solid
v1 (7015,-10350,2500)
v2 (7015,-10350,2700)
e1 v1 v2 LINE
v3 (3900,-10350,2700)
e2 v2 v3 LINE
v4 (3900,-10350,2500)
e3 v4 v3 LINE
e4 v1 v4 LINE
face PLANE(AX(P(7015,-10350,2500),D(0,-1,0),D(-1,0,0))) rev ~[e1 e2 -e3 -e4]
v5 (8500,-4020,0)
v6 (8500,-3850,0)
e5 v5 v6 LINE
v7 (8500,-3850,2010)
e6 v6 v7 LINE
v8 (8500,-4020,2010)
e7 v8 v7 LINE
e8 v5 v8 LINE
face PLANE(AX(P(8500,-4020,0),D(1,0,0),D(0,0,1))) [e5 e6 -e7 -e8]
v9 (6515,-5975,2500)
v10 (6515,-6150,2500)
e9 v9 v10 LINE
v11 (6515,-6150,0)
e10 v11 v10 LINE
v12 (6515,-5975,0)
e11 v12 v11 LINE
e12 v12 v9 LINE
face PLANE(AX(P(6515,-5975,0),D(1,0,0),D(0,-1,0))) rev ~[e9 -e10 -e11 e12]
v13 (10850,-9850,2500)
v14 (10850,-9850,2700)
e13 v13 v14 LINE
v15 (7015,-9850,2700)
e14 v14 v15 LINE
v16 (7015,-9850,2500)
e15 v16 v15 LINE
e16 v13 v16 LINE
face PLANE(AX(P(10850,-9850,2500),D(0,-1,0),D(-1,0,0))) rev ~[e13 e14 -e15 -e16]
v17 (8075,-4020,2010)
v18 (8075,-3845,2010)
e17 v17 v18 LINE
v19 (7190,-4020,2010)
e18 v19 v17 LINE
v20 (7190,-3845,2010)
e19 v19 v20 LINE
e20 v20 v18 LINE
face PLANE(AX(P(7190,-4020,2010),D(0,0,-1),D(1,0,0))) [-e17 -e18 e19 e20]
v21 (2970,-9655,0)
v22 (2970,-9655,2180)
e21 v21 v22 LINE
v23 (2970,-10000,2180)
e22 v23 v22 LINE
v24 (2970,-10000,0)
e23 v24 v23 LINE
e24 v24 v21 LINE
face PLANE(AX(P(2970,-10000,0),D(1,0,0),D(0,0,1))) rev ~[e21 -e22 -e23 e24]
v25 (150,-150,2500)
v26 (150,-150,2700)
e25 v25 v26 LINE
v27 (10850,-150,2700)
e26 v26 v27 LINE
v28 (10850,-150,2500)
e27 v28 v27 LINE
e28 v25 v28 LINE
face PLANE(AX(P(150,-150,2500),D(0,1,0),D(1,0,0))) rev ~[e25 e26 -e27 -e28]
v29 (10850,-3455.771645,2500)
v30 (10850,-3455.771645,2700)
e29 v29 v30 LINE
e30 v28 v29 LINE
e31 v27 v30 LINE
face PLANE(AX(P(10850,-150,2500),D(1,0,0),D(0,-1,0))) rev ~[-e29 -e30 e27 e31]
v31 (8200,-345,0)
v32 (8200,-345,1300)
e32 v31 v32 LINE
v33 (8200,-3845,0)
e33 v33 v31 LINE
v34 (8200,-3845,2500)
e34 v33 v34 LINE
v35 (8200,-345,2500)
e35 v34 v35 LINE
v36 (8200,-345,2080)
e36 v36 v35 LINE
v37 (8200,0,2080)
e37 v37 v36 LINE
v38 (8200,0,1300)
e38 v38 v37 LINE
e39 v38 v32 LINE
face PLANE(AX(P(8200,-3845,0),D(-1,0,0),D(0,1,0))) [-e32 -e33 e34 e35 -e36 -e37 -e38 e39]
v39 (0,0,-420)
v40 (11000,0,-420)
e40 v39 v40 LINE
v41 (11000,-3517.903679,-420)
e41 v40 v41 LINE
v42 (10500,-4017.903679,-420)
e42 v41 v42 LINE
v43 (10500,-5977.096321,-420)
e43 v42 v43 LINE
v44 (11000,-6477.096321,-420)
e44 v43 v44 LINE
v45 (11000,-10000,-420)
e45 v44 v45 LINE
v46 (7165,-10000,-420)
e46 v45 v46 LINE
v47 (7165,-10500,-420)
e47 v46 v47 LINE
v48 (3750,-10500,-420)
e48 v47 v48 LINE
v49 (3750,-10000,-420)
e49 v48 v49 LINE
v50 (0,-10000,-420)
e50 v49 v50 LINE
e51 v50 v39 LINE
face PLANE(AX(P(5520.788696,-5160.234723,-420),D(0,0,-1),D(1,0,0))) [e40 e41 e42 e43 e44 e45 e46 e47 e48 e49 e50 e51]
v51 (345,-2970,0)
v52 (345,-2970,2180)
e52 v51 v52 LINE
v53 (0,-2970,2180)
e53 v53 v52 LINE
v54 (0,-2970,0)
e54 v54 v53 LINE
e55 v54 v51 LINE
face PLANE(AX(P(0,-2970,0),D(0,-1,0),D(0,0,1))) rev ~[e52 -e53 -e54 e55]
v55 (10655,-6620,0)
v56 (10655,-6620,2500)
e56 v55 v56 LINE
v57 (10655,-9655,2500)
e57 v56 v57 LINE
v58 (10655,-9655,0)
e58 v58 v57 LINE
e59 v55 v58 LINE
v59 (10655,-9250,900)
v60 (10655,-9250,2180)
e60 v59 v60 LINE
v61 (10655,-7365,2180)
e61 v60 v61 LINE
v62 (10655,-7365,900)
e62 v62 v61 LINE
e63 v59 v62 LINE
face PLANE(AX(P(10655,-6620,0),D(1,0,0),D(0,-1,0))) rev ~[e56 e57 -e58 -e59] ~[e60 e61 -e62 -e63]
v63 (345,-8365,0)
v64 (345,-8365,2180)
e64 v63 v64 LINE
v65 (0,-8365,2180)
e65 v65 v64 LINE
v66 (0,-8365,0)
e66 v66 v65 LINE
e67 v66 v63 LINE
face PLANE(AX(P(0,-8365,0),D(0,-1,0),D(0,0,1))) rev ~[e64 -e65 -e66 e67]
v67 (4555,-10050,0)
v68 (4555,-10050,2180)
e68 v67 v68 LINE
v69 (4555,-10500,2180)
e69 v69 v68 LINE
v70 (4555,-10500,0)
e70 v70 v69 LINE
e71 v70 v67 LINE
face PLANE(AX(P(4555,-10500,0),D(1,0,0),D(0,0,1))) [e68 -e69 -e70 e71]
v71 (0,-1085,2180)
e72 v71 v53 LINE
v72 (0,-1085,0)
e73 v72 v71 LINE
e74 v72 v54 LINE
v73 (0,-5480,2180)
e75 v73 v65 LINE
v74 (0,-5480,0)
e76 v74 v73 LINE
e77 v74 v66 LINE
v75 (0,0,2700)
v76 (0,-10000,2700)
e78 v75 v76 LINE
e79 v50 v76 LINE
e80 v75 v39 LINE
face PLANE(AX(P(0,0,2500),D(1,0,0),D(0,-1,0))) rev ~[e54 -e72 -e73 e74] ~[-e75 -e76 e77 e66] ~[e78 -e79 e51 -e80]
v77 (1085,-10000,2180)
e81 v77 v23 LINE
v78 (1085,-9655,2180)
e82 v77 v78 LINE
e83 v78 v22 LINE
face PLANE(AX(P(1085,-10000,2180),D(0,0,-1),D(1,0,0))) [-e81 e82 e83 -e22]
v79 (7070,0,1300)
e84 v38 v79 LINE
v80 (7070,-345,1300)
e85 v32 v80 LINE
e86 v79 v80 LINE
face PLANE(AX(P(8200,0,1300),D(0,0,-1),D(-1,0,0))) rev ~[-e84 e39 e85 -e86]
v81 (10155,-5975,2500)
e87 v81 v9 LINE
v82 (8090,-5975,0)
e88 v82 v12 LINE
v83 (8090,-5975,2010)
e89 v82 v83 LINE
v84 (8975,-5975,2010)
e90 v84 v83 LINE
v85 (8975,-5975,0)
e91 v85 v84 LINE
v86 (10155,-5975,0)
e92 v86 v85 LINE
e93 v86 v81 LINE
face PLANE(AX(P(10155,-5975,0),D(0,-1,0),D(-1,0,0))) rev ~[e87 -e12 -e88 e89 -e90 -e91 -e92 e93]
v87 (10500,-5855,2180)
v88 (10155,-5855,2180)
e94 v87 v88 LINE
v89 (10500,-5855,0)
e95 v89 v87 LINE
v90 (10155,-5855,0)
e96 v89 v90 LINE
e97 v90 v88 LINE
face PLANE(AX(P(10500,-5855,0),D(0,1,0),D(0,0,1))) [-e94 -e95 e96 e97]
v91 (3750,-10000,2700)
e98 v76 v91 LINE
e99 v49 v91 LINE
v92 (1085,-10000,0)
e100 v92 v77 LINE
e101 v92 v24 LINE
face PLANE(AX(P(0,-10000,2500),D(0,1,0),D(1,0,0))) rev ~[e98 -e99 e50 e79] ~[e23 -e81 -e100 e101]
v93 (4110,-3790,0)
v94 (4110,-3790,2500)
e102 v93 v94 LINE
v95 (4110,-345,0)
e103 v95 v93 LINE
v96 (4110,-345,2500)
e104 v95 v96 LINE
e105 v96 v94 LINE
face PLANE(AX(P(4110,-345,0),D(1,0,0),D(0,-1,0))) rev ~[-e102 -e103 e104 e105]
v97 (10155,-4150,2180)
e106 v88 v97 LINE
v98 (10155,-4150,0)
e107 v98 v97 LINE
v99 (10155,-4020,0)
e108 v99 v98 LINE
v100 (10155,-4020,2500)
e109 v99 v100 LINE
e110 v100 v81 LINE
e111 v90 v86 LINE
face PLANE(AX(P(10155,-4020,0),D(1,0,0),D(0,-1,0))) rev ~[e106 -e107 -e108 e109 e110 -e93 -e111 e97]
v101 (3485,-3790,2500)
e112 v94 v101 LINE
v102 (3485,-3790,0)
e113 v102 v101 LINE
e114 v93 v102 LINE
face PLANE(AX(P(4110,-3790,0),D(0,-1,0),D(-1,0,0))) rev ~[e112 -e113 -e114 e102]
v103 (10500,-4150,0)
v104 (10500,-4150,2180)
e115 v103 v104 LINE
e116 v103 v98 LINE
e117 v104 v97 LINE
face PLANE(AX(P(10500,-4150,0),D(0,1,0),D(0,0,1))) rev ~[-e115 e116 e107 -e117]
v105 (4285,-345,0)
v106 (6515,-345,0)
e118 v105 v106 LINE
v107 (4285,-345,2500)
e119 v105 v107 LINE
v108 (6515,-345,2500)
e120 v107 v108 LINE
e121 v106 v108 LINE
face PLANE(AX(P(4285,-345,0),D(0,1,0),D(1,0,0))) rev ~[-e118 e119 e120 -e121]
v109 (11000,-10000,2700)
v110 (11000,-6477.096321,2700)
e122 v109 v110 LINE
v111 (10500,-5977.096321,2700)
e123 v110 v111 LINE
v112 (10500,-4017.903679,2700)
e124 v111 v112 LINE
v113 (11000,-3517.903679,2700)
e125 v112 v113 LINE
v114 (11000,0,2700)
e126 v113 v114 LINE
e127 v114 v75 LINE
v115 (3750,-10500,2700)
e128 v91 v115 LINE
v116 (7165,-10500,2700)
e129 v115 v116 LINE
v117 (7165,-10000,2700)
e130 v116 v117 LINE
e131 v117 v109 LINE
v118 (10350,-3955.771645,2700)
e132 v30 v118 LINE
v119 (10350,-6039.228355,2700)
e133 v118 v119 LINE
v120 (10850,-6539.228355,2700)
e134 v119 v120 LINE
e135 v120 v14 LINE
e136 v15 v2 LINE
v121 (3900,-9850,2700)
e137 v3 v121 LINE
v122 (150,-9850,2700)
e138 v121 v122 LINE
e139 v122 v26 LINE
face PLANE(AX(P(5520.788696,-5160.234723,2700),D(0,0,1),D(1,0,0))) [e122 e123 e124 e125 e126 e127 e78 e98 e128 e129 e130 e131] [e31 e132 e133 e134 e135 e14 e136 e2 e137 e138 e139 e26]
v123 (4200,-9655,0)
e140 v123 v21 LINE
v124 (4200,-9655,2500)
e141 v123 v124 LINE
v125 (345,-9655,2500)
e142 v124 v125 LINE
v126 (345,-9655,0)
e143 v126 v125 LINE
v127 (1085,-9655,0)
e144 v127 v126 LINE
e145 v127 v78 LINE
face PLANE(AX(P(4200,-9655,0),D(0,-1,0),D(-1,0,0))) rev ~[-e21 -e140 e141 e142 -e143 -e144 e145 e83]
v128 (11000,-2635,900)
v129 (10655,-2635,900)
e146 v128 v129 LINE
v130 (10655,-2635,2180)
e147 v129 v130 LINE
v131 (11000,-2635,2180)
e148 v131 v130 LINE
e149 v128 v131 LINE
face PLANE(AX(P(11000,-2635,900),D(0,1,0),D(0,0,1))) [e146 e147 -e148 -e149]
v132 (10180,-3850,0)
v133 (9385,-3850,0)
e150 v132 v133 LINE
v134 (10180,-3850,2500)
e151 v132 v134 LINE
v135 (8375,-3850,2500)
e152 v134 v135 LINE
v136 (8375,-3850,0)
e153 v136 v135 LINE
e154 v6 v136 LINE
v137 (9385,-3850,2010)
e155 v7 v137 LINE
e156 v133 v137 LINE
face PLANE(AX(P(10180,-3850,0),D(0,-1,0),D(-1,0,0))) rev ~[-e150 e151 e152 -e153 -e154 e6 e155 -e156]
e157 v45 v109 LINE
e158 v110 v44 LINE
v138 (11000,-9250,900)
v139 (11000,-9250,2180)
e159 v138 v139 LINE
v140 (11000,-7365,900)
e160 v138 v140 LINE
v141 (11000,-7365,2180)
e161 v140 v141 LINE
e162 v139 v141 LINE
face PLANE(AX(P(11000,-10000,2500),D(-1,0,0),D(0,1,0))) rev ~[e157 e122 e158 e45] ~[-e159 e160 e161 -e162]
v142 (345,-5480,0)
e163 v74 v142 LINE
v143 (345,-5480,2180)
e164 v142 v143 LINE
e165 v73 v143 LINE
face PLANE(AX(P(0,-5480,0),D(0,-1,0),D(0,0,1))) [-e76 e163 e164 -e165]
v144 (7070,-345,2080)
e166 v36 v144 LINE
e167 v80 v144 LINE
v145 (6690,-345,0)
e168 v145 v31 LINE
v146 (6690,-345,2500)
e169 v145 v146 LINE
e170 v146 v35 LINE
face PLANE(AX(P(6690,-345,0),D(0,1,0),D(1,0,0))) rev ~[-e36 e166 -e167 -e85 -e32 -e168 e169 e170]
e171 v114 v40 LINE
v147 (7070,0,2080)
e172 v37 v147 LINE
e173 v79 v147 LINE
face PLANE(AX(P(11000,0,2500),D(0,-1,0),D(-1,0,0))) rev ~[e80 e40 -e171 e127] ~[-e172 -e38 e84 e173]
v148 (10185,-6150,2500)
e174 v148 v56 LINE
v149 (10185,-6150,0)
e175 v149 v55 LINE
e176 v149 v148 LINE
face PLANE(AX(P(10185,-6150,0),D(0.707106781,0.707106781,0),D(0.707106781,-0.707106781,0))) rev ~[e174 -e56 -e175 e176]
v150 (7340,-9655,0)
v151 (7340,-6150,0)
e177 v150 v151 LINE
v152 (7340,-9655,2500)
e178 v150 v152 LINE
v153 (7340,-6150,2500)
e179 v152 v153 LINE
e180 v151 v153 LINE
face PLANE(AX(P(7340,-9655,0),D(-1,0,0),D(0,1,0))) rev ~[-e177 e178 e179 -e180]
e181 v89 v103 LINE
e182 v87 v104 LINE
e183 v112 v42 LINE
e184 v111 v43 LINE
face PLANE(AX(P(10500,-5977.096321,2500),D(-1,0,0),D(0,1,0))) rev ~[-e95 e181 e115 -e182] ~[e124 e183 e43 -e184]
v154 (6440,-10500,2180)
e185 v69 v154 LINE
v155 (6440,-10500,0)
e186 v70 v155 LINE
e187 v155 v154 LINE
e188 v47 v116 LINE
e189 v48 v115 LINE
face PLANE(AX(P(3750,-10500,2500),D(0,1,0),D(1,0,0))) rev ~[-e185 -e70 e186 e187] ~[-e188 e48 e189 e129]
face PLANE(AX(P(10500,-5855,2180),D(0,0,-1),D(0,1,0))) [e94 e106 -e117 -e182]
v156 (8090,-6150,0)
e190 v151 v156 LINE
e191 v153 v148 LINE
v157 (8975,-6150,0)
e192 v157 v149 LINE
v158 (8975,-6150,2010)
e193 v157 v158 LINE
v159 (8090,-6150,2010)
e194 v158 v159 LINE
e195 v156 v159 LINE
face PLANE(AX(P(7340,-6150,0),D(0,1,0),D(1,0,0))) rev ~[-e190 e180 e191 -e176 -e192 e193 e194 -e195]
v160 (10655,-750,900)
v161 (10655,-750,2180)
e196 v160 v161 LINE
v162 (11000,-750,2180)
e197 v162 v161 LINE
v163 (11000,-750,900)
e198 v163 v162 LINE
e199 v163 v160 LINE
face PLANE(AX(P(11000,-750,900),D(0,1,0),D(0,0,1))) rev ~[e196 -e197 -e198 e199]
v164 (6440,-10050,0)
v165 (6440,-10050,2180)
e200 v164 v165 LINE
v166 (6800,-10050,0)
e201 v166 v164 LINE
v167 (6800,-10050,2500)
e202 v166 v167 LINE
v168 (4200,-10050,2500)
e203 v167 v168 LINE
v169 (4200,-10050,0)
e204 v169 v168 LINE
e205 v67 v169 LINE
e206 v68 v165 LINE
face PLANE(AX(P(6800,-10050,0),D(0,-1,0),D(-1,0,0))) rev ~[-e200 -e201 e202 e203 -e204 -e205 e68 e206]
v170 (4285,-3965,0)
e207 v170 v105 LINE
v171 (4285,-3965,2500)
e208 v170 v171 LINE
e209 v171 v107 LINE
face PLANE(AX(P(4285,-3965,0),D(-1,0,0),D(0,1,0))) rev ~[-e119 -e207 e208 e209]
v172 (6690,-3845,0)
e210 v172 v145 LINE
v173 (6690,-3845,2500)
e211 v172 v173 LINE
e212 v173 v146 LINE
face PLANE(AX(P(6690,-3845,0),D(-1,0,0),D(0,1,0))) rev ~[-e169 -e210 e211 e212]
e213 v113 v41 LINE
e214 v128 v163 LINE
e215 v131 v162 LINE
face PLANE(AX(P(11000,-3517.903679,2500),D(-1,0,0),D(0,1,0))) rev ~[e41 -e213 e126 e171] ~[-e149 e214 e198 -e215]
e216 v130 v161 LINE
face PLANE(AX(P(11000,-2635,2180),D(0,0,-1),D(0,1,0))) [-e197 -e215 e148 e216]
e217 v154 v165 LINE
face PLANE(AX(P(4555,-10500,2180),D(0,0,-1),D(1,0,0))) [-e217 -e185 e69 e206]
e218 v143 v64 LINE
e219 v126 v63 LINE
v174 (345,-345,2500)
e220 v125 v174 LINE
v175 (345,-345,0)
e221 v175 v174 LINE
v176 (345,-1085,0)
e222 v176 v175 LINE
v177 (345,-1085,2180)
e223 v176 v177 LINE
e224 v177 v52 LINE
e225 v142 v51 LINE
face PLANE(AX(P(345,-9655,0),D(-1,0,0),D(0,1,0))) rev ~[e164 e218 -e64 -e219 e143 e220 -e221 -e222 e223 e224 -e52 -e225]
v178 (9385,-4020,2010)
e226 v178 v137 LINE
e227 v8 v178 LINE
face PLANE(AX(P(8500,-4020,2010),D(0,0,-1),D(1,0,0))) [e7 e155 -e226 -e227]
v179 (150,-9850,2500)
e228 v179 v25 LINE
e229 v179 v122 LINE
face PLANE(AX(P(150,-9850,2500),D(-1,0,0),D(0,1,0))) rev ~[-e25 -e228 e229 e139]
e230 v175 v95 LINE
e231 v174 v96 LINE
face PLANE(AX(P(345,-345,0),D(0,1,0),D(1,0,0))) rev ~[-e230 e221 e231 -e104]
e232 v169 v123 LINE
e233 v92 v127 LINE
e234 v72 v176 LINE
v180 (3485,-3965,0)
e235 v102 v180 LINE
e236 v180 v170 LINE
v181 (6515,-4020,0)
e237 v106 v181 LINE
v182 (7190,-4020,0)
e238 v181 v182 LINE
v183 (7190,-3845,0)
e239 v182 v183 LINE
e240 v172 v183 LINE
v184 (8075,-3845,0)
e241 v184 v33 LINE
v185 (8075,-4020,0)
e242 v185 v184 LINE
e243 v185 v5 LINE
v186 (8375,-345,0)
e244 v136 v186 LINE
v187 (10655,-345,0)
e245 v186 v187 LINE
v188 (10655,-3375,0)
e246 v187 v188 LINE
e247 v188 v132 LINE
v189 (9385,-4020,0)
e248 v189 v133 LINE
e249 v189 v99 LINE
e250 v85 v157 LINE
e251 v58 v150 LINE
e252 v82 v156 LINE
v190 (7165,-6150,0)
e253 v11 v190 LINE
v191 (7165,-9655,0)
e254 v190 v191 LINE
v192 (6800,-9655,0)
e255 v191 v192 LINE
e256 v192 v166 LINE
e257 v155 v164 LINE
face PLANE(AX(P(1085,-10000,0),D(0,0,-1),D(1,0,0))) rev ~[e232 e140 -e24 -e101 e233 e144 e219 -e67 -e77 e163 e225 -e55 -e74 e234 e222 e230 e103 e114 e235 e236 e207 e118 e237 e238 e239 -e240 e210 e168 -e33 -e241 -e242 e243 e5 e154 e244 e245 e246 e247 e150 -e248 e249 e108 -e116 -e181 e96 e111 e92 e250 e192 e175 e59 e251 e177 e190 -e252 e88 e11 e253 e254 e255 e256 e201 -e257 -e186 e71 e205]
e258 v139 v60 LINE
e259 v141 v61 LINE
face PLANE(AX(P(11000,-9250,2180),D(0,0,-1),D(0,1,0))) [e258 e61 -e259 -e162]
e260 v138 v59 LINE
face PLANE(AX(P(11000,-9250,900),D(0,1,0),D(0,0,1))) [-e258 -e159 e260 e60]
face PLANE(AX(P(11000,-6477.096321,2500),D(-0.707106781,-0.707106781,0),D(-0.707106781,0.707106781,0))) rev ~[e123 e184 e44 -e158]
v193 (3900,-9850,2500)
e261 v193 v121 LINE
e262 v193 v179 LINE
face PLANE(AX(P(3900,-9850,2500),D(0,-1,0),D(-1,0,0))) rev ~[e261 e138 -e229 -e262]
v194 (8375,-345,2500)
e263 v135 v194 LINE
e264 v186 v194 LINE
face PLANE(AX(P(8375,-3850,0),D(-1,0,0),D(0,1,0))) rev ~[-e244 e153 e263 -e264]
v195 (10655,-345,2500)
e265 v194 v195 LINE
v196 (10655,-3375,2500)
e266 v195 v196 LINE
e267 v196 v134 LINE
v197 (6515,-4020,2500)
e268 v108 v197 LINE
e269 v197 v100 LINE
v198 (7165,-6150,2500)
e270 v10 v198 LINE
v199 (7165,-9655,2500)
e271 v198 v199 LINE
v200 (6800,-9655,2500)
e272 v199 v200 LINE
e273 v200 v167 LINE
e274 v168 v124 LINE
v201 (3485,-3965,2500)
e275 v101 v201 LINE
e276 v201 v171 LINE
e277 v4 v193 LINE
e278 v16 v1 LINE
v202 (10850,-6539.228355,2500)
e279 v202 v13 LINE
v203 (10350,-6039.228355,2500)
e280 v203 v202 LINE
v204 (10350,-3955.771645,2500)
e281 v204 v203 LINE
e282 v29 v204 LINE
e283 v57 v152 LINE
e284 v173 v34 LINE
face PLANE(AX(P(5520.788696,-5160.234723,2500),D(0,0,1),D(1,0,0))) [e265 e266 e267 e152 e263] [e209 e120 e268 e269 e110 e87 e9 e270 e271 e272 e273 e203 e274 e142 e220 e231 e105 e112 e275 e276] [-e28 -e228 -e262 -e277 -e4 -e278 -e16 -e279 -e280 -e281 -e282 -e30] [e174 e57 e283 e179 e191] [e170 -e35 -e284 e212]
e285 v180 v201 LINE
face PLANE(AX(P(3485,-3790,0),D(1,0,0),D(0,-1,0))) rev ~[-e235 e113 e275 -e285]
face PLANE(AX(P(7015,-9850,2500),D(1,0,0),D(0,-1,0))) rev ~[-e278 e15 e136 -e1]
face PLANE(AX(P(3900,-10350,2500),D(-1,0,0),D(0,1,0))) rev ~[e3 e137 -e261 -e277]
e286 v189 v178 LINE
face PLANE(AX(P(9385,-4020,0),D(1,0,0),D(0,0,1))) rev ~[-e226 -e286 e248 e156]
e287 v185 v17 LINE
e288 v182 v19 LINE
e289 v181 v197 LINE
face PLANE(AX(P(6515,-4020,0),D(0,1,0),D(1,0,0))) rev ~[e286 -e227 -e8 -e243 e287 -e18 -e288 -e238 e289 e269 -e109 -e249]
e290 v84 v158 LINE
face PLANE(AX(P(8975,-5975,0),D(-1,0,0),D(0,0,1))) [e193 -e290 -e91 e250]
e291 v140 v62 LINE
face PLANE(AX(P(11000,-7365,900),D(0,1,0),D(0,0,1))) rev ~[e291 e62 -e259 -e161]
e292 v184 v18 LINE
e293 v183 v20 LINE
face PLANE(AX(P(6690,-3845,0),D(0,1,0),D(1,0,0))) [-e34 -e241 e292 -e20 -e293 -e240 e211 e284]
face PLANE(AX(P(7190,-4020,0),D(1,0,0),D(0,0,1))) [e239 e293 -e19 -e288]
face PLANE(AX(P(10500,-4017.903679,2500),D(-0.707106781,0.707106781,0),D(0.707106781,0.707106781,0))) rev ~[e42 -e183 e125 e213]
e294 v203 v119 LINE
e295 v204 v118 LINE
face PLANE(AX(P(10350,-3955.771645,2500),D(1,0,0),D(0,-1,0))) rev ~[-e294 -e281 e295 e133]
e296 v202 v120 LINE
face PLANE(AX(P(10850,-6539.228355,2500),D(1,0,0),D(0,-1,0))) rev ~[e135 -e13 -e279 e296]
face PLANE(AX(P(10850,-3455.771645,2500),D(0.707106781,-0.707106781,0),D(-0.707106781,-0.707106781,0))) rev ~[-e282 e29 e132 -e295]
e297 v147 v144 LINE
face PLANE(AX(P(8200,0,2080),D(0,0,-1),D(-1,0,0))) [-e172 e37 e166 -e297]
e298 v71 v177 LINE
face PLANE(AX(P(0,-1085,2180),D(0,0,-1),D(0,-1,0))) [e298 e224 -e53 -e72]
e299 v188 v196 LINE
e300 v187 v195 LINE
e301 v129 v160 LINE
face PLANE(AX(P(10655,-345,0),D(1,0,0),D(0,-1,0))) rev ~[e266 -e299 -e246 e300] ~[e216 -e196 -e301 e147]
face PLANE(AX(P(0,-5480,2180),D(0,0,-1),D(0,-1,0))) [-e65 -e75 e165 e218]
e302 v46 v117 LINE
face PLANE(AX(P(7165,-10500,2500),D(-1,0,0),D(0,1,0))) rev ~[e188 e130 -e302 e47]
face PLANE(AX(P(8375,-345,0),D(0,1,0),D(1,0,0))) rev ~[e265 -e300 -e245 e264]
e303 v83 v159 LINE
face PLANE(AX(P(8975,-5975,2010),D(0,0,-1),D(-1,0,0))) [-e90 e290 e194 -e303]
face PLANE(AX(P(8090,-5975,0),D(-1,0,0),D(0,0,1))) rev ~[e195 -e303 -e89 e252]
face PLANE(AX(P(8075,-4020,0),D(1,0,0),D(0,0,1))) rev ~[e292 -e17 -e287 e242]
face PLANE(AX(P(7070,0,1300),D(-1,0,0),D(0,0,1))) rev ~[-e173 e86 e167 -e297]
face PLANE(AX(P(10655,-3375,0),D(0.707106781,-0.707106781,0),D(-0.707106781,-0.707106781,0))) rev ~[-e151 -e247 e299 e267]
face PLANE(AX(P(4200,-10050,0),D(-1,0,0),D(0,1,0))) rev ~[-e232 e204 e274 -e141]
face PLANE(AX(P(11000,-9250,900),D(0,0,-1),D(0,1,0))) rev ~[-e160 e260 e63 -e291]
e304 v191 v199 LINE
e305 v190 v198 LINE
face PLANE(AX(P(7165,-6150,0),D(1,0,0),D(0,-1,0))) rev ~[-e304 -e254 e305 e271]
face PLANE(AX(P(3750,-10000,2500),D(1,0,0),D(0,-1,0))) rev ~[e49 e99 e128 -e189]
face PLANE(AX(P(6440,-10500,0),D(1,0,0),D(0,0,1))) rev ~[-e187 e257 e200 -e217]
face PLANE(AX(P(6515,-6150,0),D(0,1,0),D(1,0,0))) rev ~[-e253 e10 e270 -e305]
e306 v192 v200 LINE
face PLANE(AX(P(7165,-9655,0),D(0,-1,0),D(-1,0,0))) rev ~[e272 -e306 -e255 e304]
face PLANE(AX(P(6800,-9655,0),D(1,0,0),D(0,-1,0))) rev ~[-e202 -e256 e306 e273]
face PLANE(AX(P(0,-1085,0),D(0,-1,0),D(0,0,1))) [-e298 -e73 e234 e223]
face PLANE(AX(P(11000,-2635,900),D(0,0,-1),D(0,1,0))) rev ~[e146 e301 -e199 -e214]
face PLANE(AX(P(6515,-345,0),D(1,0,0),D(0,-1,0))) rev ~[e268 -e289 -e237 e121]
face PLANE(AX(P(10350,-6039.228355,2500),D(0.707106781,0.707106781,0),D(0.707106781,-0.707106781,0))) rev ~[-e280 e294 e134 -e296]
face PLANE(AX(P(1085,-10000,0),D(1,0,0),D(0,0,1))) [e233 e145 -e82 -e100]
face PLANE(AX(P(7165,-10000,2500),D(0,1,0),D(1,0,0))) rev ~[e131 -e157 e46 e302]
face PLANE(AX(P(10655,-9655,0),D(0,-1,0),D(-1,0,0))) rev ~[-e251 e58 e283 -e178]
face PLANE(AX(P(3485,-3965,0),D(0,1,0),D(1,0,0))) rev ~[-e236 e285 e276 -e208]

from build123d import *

# Parameters (mm, degrees)
F0_W      = 1510
F0_H      = 3500
F1_DEPTH  = 2500
F3_DEPTH  = 420
F4_W      = 1705
F4_H      = 2180
F5_DEPTH  = 345
F6_W      = 885
F6_H      = 2010
F7_DEPTH  = 175
F8_W      = 885
F8_H      = 2010
F9_DEPTH  = 175
F10_W     = 1885
F10_H     = 2180
F10_W_2   = 2885
F11_DEPTH = 345
F12_W     = 1885
F12_H     = 2180
F13_DEPTH = 345
F14_W     = 1885
F14_H     = 2180
F15_DEPTH = 450
F16_W     = 1885
F16_H     = 1280
F17_DEPTH = 345
F18_W     = 1130
F18_H     = 780
F19_DEPTH = 345
F21_DEPTH = 200


with BuildPart() as f1:
    # F0 (on Top) → F1 (new body)
    with BuildSketch(Plane.XY):
        Polygon((0, 0), (0, -10000), (3750, -10000), (3750, -10500), (7165, -10500), (7165, -10000), (11000, -10000), (11000, -6477.096321), (10500, -5977.096321), (10500, -4017.903679), (11000, -3517.903679), (11000, 0), align=None)
        Polygon((10655, -6620), (10655, -9655), (7340, -9655), (7340, -6150), (10185, -6150), align=None, mode=Mode.SUBTRACT)
        Polygon((345, -9655), (345, -345), (4110, -345), (4110, -3790), (3485, -3790), (3485, -3965), (4285, -3965), (4285, -345), (6515, -345), (6515, -4020), (10155, -4020), (10155, -5975), (6515, -5975), (6515, -6150), (7165, -6150), (7165, -9655), (6800, -9655), (6800, -10050), (4200, -10050), (4200, -9655), align=None, mode=Mode.SUBTRACT)
        with Locations((7445, -2095)):
            Rectangle(F0_W, F0_H, mode=Mode.SUBTRACT)
        Polygon((10655, -3375), (10180, -3850), (8375, -3850), (8375, -345), (10655, -345), align=None, mode=Mode.SUBTRACT)
    extrude(amount=F1_DEPTH)

    # F2 (on face) → F3 (join)
    with BuildSketch(Plane(origin=(0, 0, 0), x_dir=(1, 0, 0), z_dir=(0, 0, -1))):
        Polygon((3750, 10000), (0, 10000), (0, 0), (11000, 0), (11000, 3517.903679), (10500, 4017.903679), (10500, 5977.096321), (11000, 6477.096321), (11000, 10000), (7165, 10000), (7165, 10500), (3750, 10500), align=None)
    extrude(amount=F3_DEPTH)

    # F4 (on face) → F5 (cut, through all)
    with BuildSketch(Plane.YZ.offset(10500)):
        with Locations((-5002.5, 1090)):
            Rectangle(F4_W, F4_H)
    extrude(amount=-F5_DEPTH, mode=Mode.SUBTRACT)

    # F6 (on face) → F7 (cut, through all)
    with BuildSketch(Plane.XZ.offset(4020)):
        with Locations((7632.5, 1005)):
            Rectangle(F6_W, F6_H)
        with Locations((8942.5, 1005)):
            Rectangle(F6_W, F6_H)
    extrude(amount=-F7_DEPTH, mode=Mode.SUBTRACT)

    # F8 (on face) → F9 (cut, through all)
    with BuildSketch(Plane(origin=(0, -5975, 0), x_dir=(-1, 0, 0), z_dir=(0, 1, 0))):
        with Locations((-8532.5, 1005)):
            Rectangle(F8_W, F8_H)
    extrude(amount=-F9_DEPTH, mode=Mode.SUBTRACT)

    # F10 (on face) → F11 (cut, through all)
    with BuildSketch(Plane(origin=(0, 0, 0), x_dir=(0, -1, 0), z_dir=(-1, 0, 0))):
        with Locations((2027.5, 1090)):
            Rectangle(F10_W, F10_H)
        with Locations((6922.5, 1090)):
            Rectangle(F10_W_2, F10_H)
    extrude(amount=-F11_DEPTH, mode=Mode.SUBTRACT)

    # F12 (on face) → F13 (cut, through all)
    with BuildSketch(Plane.XZ.offset(10000)):
        with Locations((2027.5, 1090)):
            Rectangle(F12_W, F12_H)
    extrude(amount=-F13_DEPTH, mode=Mode.SUBTRACT)

    # F14 (on face) → F15 (cut, through all)
    with BuildSketch(Plane.XZ.offset(10500)):
        with Locations((5497.5, 1090)):
            Rectangle(F14_W, F14_H)
    extrude(amount=-F15_DEPTH, mode=Mode.SUBTRACT)

    # F16 (on face) → F17 (cut, through all)
    with BuildSketch(Plane.YZ.offset(11000)):
        with Locations((-8307.5, 1540)):
            Rectangle(F16_W, F16_H)
        with Locations((-1692.5, 1540)):
            Rectangle(F16_W, F16_H)
    extrude(amount=-F17_DEPTH, mode=Mode.SUBTRACT)

    # F18 (on face) → F19 (cut, through all)
    with BuildSketch(Plane(origin=(0, 0, 0), x_dir=(-1, 0, 0), z_dir=(0, 1, 0))):
        with Locations((-7635, 1690)):
            Rectangle(F18_W, F18_H)
    extrude(amount=-F19_DEPTH, mode=Mode.SUBTRACT)

    # F20 (on face) → F21 (join)
    with BuildSketch(Plane.XY.offset(2500)):
        Polygon((0, 0), (0, -10000), (3750, -10000), (3750, -10500), (7165, -10500), (7165, -10000), (11000, -10000), (11000, -6477.096321), (10500, -5977.096321), (10500, -4017.903679), (11000, -3517.903679), (11000, 0), align=None)
        Polygon((3900, -9850), (150, -9850), (150, -150), (10850, -150), (10850, -3455.771645), (10350, -3955.771645), (10350, -6039.228355), (10850, -6539.228355), (10850, -9850), (7015, -9850), (7015, -10350), (3900, -10350), align=None, mode=Mode.SUBTRACT)
    extrude(amount=F21_DEPTH)


solid = f1.part
